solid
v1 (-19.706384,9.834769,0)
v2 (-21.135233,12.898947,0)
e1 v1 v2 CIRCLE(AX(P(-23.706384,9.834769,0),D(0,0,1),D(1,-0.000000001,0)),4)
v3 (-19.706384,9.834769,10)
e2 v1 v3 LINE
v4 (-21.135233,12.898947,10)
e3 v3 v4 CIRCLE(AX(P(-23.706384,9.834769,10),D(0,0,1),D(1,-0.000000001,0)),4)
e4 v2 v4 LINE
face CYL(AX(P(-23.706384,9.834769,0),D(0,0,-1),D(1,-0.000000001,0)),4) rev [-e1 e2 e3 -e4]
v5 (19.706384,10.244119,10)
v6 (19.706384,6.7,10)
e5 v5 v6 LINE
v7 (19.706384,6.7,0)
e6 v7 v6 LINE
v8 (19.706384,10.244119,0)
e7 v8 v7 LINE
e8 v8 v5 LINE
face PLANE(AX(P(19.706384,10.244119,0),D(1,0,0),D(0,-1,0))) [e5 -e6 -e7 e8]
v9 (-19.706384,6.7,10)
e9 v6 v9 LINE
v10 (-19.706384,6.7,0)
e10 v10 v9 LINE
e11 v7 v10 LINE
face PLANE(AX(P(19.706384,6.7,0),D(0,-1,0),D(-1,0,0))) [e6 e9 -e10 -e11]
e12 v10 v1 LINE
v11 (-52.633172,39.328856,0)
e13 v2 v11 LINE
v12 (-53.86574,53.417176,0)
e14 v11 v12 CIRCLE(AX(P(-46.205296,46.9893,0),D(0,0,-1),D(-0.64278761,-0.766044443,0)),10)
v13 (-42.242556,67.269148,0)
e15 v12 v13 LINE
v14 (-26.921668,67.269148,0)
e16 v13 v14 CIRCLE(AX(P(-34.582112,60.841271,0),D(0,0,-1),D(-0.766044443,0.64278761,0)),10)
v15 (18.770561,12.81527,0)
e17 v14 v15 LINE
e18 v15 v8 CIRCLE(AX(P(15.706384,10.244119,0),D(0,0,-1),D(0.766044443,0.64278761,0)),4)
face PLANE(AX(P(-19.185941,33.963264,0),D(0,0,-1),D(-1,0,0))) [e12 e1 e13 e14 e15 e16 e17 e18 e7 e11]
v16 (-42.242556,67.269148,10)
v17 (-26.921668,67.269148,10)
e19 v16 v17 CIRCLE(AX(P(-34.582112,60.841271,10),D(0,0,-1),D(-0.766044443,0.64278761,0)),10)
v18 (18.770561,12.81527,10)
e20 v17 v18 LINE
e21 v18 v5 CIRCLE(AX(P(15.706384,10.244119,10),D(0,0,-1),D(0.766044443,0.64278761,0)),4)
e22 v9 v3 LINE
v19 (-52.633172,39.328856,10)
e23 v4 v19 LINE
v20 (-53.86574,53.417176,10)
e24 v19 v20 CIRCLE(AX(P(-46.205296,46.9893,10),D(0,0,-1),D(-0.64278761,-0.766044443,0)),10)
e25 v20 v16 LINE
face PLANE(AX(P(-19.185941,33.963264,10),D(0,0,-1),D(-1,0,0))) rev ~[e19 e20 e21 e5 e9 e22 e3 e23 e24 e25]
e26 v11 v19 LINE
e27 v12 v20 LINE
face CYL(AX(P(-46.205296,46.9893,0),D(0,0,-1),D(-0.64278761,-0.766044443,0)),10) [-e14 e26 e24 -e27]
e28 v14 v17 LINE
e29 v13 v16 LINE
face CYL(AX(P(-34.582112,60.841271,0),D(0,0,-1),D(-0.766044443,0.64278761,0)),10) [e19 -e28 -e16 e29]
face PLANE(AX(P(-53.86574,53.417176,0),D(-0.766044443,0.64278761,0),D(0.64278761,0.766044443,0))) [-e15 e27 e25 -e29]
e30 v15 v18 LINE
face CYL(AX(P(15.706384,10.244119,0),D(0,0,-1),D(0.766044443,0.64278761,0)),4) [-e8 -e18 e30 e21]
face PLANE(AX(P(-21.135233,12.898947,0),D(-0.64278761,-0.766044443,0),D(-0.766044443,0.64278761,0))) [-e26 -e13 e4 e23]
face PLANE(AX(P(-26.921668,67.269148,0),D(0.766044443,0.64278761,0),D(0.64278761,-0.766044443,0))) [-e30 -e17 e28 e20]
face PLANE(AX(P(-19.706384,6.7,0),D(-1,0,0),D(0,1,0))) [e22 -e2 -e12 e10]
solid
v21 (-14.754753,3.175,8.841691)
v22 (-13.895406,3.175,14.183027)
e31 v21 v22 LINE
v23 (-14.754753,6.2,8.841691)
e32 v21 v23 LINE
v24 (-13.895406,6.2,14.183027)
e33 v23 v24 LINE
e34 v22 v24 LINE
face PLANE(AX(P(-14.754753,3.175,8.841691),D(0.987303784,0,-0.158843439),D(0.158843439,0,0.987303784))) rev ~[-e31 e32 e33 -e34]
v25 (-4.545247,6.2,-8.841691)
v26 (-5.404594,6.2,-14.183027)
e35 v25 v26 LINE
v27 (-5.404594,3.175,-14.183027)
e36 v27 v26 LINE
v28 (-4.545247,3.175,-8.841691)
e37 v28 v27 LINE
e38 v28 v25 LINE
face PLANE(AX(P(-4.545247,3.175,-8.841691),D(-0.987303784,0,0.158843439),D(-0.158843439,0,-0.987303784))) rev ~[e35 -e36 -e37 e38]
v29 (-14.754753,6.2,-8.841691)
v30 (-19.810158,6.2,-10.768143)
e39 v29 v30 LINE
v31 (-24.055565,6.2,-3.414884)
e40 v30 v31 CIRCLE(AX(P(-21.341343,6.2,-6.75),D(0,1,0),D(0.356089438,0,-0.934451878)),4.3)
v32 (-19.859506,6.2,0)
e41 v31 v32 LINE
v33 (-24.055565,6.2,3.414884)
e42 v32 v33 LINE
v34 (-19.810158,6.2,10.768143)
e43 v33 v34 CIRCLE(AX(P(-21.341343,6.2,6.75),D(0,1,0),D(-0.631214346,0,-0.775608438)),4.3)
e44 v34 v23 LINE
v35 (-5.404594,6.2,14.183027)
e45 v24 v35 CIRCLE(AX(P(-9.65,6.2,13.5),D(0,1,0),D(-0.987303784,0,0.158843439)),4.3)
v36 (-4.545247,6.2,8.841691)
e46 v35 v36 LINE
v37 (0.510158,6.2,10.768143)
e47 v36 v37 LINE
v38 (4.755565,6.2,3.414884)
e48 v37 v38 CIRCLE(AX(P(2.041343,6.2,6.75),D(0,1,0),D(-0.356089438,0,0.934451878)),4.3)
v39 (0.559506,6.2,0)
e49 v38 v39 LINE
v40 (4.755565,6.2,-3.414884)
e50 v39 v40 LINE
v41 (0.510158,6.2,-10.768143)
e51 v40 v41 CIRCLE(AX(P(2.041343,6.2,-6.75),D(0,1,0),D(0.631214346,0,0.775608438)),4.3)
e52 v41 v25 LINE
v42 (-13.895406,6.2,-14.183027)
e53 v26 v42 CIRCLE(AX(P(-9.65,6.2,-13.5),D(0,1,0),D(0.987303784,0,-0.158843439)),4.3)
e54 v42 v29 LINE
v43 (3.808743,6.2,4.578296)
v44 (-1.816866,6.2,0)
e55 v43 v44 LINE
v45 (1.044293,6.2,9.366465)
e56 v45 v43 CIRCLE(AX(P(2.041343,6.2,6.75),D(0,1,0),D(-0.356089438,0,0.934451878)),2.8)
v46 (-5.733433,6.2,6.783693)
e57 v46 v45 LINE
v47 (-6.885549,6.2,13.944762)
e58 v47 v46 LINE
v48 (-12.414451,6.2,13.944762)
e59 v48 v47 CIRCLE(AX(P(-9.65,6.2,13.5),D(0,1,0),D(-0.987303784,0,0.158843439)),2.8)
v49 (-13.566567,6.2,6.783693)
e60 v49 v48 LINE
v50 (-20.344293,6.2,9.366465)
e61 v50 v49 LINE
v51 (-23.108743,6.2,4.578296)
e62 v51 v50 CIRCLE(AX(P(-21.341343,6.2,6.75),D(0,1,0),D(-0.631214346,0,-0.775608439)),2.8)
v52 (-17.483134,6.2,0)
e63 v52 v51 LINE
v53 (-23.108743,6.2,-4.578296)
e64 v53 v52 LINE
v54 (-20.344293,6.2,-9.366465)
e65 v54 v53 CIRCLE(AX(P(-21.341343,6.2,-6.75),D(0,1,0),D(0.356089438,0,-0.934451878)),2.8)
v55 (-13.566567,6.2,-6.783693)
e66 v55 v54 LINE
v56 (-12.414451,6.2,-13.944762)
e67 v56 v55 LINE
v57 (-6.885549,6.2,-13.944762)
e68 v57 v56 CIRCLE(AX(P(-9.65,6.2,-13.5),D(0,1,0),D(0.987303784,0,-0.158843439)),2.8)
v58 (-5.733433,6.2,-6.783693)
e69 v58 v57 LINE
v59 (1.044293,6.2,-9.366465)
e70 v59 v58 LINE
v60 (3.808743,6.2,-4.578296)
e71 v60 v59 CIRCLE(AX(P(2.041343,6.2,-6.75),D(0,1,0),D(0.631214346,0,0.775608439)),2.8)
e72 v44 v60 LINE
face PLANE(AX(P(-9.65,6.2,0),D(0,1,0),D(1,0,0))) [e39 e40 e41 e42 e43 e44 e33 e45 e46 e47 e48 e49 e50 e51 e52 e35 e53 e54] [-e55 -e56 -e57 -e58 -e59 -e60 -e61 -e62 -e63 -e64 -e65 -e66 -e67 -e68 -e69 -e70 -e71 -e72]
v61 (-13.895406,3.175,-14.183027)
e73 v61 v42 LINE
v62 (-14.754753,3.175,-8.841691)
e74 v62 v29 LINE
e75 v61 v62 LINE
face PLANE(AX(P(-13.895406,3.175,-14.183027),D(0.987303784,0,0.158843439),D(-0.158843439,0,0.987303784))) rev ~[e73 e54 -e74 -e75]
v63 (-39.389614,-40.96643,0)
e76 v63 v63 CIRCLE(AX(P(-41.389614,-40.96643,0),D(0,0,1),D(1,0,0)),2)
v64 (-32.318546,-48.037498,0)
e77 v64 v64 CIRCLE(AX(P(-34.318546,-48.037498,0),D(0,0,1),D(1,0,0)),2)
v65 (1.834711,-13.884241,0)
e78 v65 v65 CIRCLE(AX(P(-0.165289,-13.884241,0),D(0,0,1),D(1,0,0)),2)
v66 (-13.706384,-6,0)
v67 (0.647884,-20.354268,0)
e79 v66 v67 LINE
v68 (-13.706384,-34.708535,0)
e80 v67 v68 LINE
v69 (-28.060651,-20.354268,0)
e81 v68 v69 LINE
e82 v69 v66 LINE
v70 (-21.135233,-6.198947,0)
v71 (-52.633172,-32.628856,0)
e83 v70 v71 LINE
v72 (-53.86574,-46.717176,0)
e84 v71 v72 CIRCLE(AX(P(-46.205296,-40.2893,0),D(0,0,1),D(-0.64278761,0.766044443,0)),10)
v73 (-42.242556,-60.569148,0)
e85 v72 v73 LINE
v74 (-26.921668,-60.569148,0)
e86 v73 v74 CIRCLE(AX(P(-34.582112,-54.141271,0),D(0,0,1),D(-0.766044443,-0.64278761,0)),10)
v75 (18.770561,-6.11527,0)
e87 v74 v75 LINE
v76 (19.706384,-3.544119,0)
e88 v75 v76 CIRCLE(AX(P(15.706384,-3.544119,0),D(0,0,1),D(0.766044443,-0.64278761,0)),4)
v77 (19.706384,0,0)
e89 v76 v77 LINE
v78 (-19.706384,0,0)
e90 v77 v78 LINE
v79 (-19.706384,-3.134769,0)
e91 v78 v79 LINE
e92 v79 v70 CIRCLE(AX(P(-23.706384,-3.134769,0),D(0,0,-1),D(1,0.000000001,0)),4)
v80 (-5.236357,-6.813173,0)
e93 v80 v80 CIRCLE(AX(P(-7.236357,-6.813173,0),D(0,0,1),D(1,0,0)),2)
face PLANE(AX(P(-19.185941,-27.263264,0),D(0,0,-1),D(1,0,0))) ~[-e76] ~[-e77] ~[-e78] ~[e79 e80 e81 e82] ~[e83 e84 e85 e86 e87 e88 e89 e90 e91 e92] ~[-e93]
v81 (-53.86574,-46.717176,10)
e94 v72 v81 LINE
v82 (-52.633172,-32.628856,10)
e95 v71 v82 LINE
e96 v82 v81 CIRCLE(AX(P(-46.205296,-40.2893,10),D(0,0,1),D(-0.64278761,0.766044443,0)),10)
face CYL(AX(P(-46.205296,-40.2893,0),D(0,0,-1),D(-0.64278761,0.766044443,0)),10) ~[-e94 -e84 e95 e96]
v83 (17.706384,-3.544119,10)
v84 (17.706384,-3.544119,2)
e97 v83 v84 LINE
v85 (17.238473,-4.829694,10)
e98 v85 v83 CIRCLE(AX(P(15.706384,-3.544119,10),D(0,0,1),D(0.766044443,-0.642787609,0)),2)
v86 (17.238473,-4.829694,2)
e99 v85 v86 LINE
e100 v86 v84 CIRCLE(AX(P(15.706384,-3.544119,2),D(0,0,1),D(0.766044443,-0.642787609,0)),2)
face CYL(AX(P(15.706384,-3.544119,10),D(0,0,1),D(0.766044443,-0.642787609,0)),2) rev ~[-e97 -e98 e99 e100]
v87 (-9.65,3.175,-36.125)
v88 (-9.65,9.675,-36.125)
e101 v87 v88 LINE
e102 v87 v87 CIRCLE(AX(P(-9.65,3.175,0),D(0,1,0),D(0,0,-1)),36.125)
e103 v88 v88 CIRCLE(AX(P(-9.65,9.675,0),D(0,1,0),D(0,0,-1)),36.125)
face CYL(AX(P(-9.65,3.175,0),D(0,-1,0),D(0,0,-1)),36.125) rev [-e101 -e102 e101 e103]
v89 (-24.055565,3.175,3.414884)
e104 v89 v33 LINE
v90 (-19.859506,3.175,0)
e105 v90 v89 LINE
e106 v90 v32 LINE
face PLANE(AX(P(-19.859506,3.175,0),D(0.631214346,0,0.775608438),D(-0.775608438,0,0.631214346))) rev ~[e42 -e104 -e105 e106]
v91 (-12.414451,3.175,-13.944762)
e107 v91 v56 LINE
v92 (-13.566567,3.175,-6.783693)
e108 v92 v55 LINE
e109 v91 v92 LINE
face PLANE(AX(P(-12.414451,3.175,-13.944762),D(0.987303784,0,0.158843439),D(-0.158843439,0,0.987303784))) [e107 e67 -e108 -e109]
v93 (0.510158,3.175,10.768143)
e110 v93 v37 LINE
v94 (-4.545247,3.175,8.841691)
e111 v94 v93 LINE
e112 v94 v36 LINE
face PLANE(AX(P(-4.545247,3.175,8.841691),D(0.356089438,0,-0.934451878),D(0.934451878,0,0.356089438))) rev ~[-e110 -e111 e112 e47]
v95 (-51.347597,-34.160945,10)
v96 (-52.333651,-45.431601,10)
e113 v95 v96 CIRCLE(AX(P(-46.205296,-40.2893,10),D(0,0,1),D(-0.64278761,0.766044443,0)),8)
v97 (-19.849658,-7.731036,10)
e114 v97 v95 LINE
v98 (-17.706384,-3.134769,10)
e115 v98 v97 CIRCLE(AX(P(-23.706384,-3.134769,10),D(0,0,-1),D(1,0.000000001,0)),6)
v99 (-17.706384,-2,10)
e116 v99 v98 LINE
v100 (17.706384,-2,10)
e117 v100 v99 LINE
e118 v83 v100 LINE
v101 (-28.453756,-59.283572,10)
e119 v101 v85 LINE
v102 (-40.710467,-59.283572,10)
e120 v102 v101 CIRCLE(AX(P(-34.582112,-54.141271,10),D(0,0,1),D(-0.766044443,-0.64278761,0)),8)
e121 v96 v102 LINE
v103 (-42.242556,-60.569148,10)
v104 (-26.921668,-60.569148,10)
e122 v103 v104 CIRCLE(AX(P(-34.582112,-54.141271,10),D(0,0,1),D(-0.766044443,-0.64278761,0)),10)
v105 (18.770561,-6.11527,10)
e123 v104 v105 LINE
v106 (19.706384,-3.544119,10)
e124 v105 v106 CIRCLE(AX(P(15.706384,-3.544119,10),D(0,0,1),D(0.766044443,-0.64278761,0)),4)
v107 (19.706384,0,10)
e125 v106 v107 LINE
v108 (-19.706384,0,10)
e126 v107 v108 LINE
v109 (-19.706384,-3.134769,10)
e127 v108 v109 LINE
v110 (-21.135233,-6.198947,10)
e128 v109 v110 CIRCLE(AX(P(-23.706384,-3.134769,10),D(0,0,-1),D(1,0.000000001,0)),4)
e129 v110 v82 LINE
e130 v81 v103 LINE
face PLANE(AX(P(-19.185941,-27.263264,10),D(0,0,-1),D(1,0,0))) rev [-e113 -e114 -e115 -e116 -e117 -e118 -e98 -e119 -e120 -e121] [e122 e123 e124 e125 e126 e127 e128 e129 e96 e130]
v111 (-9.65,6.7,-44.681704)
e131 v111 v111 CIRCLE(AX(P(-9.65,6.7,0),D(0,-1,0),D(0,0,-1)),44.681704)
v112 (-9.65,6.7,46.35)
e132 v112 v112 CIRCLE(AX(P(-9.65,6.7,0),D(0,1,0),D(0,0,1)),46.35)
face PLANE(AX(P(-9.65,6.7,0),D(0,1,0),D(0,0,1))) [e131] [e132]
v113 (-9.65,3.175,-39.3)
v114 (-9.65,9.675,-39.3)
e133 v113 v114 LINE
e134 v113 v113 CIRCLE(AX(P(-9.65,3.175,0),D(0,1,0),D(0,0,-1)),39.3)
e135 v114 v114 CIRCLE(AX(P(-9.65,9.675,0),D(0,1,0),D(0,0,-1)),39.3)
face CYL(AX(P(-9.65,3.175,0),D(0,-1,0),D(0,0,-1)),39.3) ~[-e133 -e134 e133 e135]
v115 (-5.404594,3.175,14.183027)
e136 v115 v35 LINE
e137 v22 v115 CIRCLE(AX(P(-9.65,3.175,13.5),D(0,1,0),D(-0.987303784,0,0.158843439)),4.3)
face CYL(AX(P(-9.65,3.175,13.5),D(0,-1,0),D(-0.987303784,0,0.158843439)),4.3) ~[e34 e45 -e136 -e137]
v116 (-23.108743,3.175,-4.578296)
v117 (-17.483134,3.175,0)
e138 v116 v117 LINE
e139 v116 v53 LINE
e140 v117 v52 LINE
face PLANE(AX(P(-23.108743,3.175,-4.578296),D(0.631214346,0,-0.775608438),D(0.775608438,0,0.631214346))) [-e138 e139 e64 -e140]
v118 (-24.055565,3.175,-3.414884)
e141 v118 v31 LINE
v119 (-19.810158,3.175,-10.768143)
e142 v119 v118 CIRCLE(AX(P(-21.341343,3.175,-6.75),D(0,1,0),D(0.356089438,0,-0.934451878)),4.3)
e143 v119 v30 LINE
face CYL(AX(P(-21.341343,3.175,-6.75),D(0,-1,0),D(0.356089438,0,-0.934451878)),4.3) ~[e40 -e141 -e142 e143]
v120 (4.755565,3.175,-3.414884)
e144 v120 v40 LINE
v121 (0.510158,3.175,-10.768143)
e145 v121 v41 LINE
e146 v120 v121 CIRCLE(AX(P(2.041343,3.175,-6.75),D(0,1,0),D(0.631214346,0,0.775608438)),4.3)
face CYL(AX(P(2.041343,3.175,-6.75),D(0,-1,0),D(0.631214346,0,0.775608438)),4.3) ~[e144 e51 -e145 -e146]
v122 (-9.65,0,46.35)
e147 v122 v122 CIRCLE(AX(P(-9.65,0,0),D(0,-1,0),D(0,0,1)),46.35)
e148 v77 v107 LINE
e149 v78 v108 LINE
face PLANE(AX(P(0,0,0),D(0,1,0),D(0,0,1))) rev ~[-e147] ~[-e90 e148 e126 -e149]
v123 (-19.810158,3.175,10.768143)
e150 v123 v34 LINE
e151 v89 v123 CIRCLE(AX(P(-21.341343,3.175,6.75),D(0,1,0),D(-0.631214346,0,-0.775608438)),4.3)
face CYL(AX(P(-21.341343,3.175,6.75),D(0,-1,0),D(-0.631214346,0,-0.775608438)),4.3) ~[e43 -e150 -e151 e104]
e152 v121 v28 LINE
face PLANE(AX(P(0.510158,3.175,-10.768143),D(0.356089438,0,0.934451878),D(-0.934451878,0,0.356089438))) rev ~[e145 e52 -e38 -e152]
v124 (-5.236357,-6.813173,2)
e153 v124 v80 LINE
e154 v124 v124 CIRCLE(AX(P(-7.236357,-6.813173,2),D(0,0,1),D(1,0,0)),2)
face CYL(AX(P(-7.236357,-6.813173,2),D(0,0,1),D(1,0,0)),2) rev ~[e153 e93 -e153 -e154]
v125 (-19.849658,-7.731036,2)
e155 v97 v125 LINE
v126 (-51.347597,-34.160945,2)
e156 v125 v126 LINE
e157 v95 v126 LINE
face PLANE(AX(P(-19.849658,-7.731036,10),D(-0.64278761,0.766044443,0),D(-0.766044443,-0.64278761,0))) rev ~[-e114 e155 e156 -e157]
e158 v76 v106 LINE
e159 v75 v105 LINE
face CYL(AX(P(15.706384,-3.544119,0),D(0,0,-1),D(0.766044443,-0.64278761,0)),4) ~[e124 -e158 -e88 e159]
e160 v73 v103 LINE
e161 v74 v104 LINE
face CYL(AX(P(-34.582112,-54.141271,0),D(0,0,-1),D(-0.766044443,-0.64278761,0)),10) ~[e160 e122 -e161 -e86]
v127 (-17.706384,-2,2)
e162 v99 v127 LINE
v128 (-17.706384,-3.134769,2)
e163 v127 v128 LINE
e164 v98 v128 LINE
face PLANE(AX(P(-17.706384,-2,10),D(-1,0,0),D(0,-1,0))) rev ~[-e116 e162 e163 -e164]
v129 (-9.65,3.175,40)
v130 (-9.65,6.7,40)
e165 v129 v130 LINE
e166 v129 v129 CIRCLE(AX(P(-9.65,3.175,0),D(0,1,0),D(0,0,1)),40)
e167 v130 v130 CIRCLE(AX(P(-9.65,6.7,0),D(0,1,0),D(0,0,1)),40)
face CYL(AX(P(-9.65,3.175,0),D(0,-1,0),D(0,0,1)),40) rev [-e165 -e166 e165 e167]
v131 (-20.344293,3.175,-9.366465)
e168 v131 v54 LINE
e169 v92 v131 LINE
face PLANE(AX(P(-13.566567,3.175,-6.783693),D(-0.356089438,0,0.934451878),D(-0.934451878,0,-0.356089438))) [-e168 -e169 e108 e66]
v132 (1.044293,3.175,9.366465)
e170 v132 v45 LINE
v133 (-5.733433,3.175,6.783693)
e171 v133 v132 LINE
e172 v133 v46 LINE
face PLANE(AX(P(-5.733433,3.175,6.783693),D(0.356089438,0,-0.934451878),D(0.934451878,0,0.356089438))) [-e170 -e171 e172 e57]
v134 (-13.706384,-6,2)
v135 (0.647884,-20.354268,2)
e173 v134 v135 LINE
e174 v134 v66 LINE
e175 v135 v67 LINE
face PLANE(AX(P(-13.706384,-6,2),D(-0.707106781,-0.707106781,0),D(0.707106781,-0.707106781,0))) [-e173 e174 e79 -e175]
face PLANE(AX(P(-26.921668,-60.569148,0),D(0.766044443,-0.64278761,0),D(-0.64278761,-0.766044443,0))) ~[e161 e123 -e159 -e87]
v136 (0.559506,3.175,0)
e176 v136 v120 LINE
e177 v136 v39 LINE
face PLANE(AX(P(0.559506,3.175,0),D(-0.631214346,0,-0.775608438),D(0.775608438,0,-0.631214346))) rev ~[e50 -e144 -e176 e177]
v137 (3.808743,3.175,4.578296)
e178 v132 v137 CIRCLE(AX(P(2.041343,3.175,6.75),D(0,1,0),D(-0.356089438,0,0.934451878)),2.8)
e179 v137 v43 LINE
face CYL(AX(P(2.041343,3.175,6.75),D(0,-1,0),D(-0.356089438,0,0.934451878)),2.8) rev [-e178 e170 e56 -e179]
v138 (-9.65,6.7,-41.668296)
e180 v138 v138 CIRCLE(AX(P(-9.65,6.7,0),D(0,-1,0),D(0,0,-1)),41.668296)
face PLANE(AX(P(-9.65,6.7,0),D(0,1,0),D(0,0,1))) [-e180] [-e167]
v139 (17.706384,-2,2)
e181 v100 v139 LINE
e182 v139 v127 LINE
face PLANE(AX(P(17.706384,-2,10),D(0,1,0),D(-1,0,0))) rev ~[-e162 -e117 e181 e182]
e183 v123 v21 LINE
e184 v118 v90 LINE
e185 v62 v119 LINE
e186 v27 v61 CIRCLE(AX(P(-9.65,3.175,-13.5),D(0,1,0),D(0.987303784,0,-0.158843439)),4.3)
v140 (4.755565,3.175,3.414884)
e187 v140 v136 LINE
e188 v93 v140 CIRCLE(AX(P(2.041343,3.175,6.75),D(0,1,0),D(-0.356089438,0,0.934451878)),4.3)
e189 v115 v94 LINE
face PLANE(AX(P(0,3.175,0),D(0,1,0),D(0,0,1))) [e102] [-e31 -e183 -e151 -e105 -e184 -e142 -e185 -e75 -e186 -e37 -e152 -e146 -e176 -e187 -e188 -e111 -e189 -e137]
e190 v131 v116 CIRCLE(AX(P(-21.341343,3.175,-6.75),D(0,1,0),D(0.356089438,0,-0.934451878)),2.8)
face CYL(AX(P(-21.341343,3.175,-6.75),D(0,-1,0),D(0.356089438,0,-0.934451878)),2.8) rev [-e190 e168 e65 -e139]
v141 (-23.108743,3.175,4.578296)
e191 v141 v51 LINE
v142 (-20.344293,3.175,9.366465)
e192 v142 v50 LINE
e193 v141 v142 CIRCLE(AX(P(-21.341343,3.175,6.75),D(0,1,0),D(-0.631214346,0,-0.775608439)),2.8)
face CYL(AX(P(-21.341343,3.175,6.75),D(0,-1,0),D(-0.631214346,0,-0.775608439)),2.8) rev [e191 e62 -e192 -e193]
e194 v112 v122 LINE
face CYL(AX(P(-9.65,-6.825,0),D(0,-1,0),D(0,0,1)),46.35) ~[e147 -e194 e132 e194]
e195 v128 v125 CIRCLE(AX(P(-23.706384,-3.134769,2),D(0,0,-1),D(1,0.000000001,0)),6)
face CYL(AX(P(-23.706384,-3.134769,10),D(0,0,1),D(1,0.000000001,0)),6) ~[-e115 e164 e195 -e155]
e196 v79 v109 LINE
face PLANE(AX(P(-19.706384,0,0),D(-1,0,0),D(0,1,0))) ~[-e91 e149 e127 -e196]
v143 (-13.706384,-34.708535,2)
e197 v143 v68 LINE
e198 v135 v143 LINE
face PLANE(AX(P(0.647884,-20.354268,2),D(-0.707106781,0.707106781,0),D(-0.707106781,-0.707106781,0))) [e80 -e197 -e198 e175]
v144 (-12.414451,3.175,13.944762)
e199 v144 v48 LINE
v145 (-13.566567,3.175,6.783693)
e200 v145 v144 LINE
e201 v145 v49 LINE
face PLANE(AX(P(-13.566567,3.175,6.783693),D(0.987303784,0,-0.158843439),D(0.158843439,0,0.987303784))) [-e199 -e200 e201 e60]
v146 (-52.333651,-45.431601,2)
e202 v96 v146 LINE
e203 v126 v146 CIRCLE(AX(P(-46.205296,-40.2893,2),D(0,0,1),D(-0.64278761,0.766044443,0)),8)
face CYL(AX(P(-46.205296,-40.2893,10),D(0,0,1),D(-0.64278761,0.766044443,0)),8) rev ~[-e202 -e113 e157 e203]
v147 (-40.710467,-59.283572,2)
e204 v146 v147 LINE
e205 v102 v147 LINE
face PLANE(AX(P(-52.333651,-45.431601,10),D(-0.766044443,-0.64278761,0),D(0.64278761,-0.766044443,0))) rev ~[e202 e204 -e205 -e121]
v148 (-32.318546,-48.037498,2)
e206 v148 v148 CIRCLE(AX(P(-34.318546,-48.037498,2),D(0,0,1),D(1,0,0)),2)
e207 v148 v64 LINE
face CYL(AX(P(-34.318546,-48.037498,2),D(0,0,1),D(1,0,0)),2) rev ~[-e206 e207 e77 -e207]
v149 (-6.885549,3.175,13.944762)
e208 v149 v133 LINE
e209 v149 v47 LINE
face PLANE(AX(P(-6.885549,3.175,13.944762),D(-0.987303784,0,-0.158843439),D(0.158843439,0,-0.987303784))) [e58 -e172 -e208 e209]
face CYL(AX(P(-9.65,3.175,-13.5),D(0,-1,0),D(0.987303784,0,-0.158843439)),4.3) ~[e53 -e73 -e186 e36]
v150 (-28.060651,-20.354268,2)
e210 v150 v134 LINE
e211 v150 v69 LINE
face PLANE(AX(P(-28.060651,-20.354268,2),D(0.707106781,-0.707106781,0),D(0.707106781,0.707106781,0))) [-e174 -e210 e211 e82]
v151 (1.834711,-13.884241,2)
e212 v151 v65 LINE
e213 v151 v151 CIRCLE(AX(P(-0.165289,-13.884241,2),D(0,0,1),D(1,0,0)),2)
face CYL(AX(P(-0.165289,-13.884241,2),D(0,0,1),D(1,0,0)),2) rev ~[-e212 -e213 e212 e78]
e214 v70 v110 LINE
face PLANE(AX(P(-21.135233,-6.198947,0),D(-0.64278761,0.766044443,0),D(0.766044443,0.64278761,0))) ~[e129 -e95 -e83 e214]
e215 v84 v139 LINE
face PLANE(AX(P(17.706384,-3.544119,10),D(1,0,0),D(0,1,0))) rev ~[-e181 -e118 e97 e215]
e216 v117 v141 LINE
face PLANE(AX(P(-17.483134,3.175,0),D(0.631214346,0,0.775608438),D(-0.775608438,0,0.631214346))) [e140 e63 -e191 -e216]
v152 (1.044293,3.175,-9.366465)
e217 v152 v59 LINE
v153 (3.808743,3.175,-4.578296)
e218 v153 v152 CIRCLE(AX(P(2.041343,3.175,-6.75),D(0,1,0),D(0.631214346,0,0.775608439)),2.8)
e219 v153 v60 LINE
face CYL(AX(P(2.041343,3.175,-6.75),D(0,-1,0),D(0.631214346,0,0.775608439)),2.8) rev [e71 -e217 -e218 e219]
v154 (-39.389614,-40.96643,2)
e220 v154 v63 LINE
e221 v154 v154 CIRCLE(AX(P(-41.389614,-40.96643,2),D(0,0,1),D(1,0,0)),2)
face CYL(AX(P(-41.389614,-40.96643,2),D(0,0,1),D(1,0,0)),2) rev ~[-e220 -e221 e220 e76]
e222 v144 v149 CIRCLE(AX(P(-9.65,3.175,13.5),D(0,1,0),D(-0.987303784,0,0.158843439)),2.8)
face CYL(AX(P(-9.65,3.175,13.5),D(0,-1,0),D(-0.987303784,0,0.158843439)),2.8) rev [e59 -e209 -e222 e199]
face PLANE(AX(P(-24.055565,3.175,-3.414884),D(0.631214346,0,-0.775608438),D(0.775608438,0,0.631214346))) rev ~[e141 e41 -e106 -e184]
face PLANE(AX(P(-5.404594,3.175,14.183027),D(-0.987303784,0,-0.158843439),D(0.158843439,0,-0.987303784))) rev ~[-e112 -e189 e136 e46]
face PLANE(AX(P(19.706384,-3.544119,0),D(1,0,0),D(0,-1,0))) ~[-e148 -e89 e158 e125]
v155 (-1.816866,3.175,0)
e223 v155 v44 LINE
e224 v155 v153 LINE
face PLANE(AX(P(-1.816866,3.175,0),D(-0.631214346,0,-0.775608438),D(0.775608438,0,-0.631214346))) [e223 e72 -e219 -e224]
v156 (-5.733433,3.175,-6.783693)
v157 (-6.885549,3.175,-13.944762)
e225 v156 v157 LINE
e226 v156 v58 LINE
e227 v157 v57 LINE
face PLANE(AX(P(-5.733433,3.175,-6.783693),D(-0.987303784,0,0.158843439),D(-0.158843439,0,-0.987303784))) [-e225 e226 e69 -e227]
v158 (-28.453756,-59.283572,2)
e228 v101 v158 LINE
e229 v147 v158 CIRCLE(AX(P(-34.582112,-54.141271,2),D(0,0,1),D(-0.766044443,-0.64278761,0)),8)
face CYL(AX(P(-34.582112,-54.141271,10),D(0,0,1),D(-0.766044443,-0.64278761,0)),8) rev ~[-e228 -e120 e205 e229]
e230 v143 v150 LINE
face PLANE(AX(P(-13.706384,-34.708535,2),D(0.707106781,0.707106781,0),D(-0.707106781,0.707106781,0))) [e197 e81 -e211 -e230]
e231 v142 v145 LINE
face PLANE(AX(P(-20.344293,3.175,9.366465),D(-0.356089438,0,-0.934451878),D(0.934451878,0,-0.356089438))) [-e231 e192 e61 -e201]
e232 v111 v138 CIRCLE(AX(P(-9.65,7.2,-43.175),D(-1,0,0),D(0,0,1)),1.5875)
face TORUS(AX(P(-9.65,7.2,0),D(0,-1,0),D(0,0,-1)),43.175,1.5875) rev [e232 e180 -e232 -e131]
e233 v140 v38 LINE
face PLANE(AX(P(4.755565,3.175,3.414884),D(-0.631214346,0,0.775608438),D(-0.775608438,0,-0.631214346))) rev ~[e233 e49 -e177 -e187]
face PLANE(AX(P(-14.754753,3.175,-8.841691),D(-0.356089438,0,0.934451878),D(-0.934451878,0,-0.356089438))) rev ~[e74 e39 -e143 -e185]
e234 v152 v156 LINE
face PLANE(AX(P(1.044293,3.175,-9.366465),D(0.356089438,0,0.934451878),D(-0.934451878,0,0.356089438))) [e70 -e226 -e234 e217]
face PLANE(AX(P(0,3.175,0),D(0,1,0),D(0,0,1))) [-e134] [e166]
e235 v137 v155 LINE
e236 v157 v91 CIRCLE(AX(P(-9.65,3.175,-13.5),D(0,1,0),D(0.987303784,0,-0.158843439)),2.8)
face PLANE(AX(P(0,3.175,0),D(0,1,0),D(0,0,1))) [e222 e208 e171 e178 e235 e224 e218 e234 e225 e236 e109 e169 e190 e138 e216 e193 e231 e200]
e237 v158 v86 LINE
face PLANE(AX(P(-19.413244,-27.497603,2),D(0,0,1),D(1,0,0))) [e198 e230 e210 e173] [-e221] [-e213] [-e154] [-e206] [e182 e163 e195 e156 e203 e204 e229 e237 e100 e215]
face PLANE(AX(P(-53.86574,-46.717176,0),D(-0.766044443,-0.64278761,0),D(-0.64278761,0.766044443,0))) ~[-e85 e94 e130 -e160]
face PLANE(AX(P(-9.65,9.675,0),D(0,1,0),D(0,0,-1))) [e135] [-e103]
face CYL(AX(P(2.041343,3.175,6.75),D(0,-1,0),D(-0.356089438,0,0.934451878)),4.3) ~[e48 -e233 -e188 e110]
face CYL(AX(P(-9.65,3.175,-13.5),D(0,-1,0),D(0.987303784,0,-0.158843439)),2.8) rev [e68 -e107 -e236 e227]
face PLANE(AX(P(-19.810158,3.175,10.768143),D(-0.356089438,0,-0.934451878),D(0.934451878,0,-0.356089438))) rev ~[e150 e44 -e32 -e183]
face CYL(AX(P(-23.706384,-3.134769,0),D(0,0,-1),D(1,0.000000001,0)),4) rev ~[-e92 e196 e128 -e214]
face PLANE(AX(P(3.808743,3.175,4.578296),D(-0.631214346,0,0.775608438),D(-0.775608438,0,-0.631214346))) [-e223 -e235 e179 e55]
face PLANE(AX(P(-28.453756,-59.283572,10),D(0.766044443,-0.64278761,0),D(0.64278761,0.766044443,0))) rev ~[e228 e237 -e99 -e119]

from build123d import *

# Parameters (mm, degrees)
SKETCH1_R           = 82.55
BOSS_EXTRUDE1_DEPTH = 3.175
SKETCH3_R           = 1.65
CUT_EXTRUDE2_DEPTH  = 3.175
CIRPATTERN1_COUNT   = 4
SKETCH4_R           = 46.35
SKETCH4_R_2         = 40
BOSS_EXTRUDE2_DEPTH = 3.525
SKETCH7_R           = 1.5875
CUT_EXTRUDE3_START  = -10
SKETCH8_R           = 111.48971666
SKETCH8_R_2         = 46.35
CUT_EXTRUDE3_DEPTH  = 10
BOSS_EXTRUDE4_DEPTH = 10
CUT_EXTRUDE4_DEPTH  = 8
SKETCH14_R          = 2
CUT_EXTRUDE5_DEPTH  = 2
BOSS_EXTRUDE5_DEPTH = 3.025
SKETCH16_R          = 39.3
SKETCH16_R_2        = 36.125
BOSS_EXTRUDE6_DEPTH = 6.5


with BuildPart() as part:
    # Sketch1 → Boss-Extrude1 (new body)
    with BuildSketch(Plane(origin=(0, 0, 0), x_dir=(1, 0, 0), z_dir=(0, 1, 0))):
        with Locations(Location((0, 0, 0), (0, 0, 270))):
            Circle(SKETCH1_R)
    extrude(amount=BOSS_EXTRUDE1_DEPTH)

    # Sketch3 → Cut-Extrude2 (cut)
    with BuildSketch(Plane(origin=(0, 3.175, 0), x_dir=(1, 0, 0), z_dir=(0, 1, 0))):
        with Locations(Location((-76.2, 0, 0), (0, 0, 270))):
            Circle(SKETCH3_R)
    cut_extrude2 = extrude(amount=-CUT_EXTRUDE2_DEPTH, mode=Mode.SUBTRACT)

    # CirPattern1: Cut-Extrude2 ×4 about axis
    cirpattern1_axis = Axis((0, 0, 0), (0, 1, 0))
    for i in range(1, CIRPATTERN1_COUNT):
        add(cut_extrude2.rotate(cirpattern1_axis, i * 360 / CIRPATTERN1_COUNT), mode=Mode.SUBTRACT)

    # Sketch4 → Boss-Extrude2 (add)
    with BuildSketch(Plane(origin=(0, 3.175, 0), x_dir=(1, 0, 0), z_dir=(0, 1, 0))):
        with Locations(Location((-9.65, 0, 0), (0, 0, 270))):
            Circle(SKETCH4_R)
        with Locations(Location((-9.65, 0, 0), (0, 0, 270))):
            Circle(SKETCH4_R_2, mode=Mode.SUBTRACT)
    extrude(amount=BOSS_EXTRUDE2_DEPTH)

    # Sketch7 → Cut-Revolve1 (revolve, cut)
    with BuildSketch(Plane.XY, mode=Mode.PRIVATE) as cut_revolve1_sk:
        with Locations((-52.825, 7.2)):
            Circle(SKETCH7_R)
    revolve(cut_revolve1_sk.sketch.rotate(Axis((-9.65, 3.175, 0), (0, 1, 0)), 270), axis=Axis((-9.65, 3.175, 0), (0, 1, 0)), mode=Mode.SUBTRACT)

    # Sketch8 → Cut-Extrude3 (cut)
    with BuildSketch(Plane(origin=(0, 3.175, 0), x_dir=(1, 0, 0), z_dir=(0, 1, 0)).offset(CUT_EXTRUDE3_START)):
        with Locations((-9.65, 0)):
            Circle(SKETCH8_R)
        with Locations(Location((-9.65, 0, 0), (0, 0, 270))):
            Circle(SKETCH8_R_2, mode=Mode.SUBTRACT)
    extrude(amount=CUT_EXTRUDE3_DEPTH, mode=Mode.SUBTRACT)


with BuildPart() as body_2:
    # Sketch12 → Boss-Extrude4 (new body)
    with BuildSketch(Plane.XY):
        with BuildLine():
            Line((-19.706383669, 6.7), (-19.706383669, 9.834769367))
            ThreePointArc((-19.706383669, 9.834769367), (-20.08115252, 11.525242414), (-21.13523323, 12.89894714))
            Line((-21.13523323, 12.89894714), (-52.6331719, 39.328855861))
            ThreePointArc((-52.6331719, 39.328855861), (-56.167242784, 46.117742865), (-53.865740235, 53.417176389))
            Line((-53.865740235, 53.417176389), (-42.242556375, 67.269147511))
            ThreePointArc((-42.242556375, 67.269147511), (-34.582111944, 70.841271414), (-26.921667513, 67.269147511))
            Line((-26.921667513, 67.269147511), (18.770561441, 12.815269502))
            ThreePointArc((18.770561441, 12.815269502), (19.465154152, 11.612199636), (19.706383669, 10.244119063))
            Line((19.706383669, 10.244119063), (19.706383669, 6.7))
            Line((19.706383669, 6.7), (-19.706383669, 6.7))
        make_face()
    boss_extrude4 = extrude(amount=BOSS_EXTRUDE4_DEPTH)


with BuildPart() as part_1:
    add(part.part)

    # Mirror3: Boss-Extrude4 across plane
    add(boss_extrude4.mirror(Plane.ZX.offset(3.35)))

    # Sketch13 → Cut-Extrude4 (cut)
    with BuildSketch(Plane.XY.offset(10)):
        with BuildLine():
            Line((-28.453756399, -59.283572292), (17.238472555, -4.829694282))
            ThreePointArc((17.238472555, -4.829694282), (17.58576891, -4.22815935), (17.706383669, -3.544119063))
            Line((17.706383669, -3.544119063), (17.706383669, -2))
            Line((17.706383669, -2), (-17.706383669, -2))
            Line((-17.706383669, -2), (-17.706383669, -3.134769367))
            ThreePointArc((-17.706383669, -3.134769367), (-18.268536946, -5.670478938), (-19.84965801, -7.731036026))
            Line((-19.84965801, -7.731036026), (-51.347596681, -34.160944747))
            ThreePointArc((-51.347596681, -34.160944747), (-54.174853388, -39.59205435), (-52.333651348, -45.43160117))
            Line((-52.333651348, -45.43160117), (-40.710467489, -59.283572292))
            ThreePointArc((-40.710467489, -59.283572292), (-34.582111944, -62.141271414), (-28.453756399, -59.283572292))
        make_face()
    extrude(amount=-CUT_EXTRUDE4_DEPTH, mode=Mode.SUBTRACT)

    # Sketch14 → Cut-Extrude5 (cut)
    with BuildSketch(Plane.XY.offset(2)):
        with Locations((-7.236356621, -6.813172798)):
            Circle(SKETCH14_R)
        with Locations((-0.165288809, -13.88424061)):
            Circle(SKETCH14_R)
        with Locations((-41.389614152, -40.96643033)):
            Circle(SKETCH14_R)
        with Locations((-34.31854634, -48.037498142)):
            Circle(SKETCH14_R)
        Polygon((-13.706383669, -6), (0.64788399, -20.354267658), (-13.706383669, -34.708535316), (-28.060651327, -20.354267658), align=None)
    extrude(amount=-CUT_EXTRUDE5_DEPTH, mode=Mode.SUBTRACT)

    # Sketch15 → Boss-Extrude5 (add)
    with BuildSketch(Plane(origin=(0, 3.175, 0), x_dir=(1, 0, 0), z_dir=(0, 1, 0))):
        with BuildLine():
            Line((-19.859505654, 0), (-24.055564638, -3.414883715))
            ThreePointArc((-24.055564638, -3.414883715), (-25.065252187, -8.9), (-19.810158367, -10.768143075))
            Line((-19.810158367, -10.768143075), (-14.754752827, -8.841691257))
            Line((-14.754752827, -8.841691257), (-13.895406271, -14.183026789))
            ThreePointArc((-13.895406271, -14.183026789), (-9.65, -17.8), (-5.404593729, -14.183026789))
            Line((-5.404593729, -14.183026789), (-4.545247173, -8.841691257))
            Line((-4.545247173, -8.841691257), (0.510158367, -10.768143075))
            ThreePointArc((0.510158367, -10.768143075), (5.765252187, -8.9), (4.755564638, -3.414883715))
            Line((4.755564638, -3.414883715), (0.559505654, 0))
            Line((0.559505654, 0), (4.755564638, 3.414883715))
            ThreePointArc((4.755564638, 3.414883715), (5.765252187, 8.9), (0.510158367, 10.768143075))
            Line((0.510158367, 10.768143075), (-4.545247173, 8.841691257))
            Line((-4.545247173, 8.841691257), (-5.404593729, 14.183026789))
            ThreePointArc((-5.404593729, 14.183026789), (-9.65, 17.8), (-13.895406271, 14.183026789))
            Line((-13.895406271, 14.183026789), (-14.754752827, 8.841691257))
            Line((-14.754752827, 8.841691257), (-19.810158367, 10.768143075))
            ThreePointArc((-19.810158367, 10.768143075), (-25.065252187, 8.9), (-24.055564637, 3.414883715))
            Line((-24.055564637, 3.414883715), (-19.859505654, 0))
        make_face()
        with BuildLine():
            ThreePointArc((-23.108743119, -4.578296372), (-23.766214082, -8.15), (-20.344292524, -9.366465258))
            Line((-20.344292524, -9.366465258), (-13.566566904, -6.783692869))
            Line((-13.566566904, -6.783692869), (-12.414450595, -13.94476163))
            ThreePointArc((-12.414450595, -13.94476163), (-9.65, -16.3), (-6.885549405, -13.94476163))
            Line((-6.885549405, -13.94476163), (-5.733433096, -6.783692869))
            Line((-5.733433096, -6.783692869), (1.044292524, -9.366465258))
            ThreePointArc((1.044292524, -9.366465258), (4.466214082, -8.15), (3.808743119, -4.578296372))
            Line((3.808743119, -4.578296372), (-1.816866192, 0))
            Line((-1.816866192, 0), (3.808743119, 4.578296372))
            ThreePointArc((3.808743119, 4.578296372), (4.466214082, 8.15), (1.044292524, 9.366465258))
            Line((1.044292524, 9.366465258), (-5.733433096, 6.783692869))
            Line((-5.733433096, 6.783692869), (-6.885549405, 13.94476163))
            ThreePointArc((-6.885549405, 13.94476163), (-9.65, 16.3), (-12.414450595, 13.94476163))
            Line((-12.414450595, 13.94476163), (-13.566566904, 6.783692869))
            Line((-13.566566904, 6.783692869), (-20.344292524, 9.366465258))
            ThreePointArc((-20.344292524, 9.366465258), (-23.766214082, 8.15), (-23.108743119, 4.578296372))
            Line((-23.108743119, 4.578296372), (-17.483133808, 0))
            Line((-17.483133808, 0), (-23.108743119, -4.578296372))
        make_face(mode=Mode.SUBTRACT)
    extrude(amount=BOSS_EXTRUDE5_DEPTH)

    # Sketch16 → Boss-Extrude6 (add)
    with BuildSketch(Plane(origin=(0, 3.175, 0), x_dir=(1, 0, 0), z_dir=(0, 1, 0))):
        with Locations(Location((-9.65, 0, 0), (0, 0, 90))):
            Circle(SKETCH16_R)
        with Locations(Location((-9.65, 0, 0), (0, 0, 90))):
            Circle(SKETCH16_R_2, mode=Mode.SUBTRACT)
    extrude(amount=BOSS_EXTRUDE6_DEPTH)


solid = Compound([body_2.part, part_1.part])
